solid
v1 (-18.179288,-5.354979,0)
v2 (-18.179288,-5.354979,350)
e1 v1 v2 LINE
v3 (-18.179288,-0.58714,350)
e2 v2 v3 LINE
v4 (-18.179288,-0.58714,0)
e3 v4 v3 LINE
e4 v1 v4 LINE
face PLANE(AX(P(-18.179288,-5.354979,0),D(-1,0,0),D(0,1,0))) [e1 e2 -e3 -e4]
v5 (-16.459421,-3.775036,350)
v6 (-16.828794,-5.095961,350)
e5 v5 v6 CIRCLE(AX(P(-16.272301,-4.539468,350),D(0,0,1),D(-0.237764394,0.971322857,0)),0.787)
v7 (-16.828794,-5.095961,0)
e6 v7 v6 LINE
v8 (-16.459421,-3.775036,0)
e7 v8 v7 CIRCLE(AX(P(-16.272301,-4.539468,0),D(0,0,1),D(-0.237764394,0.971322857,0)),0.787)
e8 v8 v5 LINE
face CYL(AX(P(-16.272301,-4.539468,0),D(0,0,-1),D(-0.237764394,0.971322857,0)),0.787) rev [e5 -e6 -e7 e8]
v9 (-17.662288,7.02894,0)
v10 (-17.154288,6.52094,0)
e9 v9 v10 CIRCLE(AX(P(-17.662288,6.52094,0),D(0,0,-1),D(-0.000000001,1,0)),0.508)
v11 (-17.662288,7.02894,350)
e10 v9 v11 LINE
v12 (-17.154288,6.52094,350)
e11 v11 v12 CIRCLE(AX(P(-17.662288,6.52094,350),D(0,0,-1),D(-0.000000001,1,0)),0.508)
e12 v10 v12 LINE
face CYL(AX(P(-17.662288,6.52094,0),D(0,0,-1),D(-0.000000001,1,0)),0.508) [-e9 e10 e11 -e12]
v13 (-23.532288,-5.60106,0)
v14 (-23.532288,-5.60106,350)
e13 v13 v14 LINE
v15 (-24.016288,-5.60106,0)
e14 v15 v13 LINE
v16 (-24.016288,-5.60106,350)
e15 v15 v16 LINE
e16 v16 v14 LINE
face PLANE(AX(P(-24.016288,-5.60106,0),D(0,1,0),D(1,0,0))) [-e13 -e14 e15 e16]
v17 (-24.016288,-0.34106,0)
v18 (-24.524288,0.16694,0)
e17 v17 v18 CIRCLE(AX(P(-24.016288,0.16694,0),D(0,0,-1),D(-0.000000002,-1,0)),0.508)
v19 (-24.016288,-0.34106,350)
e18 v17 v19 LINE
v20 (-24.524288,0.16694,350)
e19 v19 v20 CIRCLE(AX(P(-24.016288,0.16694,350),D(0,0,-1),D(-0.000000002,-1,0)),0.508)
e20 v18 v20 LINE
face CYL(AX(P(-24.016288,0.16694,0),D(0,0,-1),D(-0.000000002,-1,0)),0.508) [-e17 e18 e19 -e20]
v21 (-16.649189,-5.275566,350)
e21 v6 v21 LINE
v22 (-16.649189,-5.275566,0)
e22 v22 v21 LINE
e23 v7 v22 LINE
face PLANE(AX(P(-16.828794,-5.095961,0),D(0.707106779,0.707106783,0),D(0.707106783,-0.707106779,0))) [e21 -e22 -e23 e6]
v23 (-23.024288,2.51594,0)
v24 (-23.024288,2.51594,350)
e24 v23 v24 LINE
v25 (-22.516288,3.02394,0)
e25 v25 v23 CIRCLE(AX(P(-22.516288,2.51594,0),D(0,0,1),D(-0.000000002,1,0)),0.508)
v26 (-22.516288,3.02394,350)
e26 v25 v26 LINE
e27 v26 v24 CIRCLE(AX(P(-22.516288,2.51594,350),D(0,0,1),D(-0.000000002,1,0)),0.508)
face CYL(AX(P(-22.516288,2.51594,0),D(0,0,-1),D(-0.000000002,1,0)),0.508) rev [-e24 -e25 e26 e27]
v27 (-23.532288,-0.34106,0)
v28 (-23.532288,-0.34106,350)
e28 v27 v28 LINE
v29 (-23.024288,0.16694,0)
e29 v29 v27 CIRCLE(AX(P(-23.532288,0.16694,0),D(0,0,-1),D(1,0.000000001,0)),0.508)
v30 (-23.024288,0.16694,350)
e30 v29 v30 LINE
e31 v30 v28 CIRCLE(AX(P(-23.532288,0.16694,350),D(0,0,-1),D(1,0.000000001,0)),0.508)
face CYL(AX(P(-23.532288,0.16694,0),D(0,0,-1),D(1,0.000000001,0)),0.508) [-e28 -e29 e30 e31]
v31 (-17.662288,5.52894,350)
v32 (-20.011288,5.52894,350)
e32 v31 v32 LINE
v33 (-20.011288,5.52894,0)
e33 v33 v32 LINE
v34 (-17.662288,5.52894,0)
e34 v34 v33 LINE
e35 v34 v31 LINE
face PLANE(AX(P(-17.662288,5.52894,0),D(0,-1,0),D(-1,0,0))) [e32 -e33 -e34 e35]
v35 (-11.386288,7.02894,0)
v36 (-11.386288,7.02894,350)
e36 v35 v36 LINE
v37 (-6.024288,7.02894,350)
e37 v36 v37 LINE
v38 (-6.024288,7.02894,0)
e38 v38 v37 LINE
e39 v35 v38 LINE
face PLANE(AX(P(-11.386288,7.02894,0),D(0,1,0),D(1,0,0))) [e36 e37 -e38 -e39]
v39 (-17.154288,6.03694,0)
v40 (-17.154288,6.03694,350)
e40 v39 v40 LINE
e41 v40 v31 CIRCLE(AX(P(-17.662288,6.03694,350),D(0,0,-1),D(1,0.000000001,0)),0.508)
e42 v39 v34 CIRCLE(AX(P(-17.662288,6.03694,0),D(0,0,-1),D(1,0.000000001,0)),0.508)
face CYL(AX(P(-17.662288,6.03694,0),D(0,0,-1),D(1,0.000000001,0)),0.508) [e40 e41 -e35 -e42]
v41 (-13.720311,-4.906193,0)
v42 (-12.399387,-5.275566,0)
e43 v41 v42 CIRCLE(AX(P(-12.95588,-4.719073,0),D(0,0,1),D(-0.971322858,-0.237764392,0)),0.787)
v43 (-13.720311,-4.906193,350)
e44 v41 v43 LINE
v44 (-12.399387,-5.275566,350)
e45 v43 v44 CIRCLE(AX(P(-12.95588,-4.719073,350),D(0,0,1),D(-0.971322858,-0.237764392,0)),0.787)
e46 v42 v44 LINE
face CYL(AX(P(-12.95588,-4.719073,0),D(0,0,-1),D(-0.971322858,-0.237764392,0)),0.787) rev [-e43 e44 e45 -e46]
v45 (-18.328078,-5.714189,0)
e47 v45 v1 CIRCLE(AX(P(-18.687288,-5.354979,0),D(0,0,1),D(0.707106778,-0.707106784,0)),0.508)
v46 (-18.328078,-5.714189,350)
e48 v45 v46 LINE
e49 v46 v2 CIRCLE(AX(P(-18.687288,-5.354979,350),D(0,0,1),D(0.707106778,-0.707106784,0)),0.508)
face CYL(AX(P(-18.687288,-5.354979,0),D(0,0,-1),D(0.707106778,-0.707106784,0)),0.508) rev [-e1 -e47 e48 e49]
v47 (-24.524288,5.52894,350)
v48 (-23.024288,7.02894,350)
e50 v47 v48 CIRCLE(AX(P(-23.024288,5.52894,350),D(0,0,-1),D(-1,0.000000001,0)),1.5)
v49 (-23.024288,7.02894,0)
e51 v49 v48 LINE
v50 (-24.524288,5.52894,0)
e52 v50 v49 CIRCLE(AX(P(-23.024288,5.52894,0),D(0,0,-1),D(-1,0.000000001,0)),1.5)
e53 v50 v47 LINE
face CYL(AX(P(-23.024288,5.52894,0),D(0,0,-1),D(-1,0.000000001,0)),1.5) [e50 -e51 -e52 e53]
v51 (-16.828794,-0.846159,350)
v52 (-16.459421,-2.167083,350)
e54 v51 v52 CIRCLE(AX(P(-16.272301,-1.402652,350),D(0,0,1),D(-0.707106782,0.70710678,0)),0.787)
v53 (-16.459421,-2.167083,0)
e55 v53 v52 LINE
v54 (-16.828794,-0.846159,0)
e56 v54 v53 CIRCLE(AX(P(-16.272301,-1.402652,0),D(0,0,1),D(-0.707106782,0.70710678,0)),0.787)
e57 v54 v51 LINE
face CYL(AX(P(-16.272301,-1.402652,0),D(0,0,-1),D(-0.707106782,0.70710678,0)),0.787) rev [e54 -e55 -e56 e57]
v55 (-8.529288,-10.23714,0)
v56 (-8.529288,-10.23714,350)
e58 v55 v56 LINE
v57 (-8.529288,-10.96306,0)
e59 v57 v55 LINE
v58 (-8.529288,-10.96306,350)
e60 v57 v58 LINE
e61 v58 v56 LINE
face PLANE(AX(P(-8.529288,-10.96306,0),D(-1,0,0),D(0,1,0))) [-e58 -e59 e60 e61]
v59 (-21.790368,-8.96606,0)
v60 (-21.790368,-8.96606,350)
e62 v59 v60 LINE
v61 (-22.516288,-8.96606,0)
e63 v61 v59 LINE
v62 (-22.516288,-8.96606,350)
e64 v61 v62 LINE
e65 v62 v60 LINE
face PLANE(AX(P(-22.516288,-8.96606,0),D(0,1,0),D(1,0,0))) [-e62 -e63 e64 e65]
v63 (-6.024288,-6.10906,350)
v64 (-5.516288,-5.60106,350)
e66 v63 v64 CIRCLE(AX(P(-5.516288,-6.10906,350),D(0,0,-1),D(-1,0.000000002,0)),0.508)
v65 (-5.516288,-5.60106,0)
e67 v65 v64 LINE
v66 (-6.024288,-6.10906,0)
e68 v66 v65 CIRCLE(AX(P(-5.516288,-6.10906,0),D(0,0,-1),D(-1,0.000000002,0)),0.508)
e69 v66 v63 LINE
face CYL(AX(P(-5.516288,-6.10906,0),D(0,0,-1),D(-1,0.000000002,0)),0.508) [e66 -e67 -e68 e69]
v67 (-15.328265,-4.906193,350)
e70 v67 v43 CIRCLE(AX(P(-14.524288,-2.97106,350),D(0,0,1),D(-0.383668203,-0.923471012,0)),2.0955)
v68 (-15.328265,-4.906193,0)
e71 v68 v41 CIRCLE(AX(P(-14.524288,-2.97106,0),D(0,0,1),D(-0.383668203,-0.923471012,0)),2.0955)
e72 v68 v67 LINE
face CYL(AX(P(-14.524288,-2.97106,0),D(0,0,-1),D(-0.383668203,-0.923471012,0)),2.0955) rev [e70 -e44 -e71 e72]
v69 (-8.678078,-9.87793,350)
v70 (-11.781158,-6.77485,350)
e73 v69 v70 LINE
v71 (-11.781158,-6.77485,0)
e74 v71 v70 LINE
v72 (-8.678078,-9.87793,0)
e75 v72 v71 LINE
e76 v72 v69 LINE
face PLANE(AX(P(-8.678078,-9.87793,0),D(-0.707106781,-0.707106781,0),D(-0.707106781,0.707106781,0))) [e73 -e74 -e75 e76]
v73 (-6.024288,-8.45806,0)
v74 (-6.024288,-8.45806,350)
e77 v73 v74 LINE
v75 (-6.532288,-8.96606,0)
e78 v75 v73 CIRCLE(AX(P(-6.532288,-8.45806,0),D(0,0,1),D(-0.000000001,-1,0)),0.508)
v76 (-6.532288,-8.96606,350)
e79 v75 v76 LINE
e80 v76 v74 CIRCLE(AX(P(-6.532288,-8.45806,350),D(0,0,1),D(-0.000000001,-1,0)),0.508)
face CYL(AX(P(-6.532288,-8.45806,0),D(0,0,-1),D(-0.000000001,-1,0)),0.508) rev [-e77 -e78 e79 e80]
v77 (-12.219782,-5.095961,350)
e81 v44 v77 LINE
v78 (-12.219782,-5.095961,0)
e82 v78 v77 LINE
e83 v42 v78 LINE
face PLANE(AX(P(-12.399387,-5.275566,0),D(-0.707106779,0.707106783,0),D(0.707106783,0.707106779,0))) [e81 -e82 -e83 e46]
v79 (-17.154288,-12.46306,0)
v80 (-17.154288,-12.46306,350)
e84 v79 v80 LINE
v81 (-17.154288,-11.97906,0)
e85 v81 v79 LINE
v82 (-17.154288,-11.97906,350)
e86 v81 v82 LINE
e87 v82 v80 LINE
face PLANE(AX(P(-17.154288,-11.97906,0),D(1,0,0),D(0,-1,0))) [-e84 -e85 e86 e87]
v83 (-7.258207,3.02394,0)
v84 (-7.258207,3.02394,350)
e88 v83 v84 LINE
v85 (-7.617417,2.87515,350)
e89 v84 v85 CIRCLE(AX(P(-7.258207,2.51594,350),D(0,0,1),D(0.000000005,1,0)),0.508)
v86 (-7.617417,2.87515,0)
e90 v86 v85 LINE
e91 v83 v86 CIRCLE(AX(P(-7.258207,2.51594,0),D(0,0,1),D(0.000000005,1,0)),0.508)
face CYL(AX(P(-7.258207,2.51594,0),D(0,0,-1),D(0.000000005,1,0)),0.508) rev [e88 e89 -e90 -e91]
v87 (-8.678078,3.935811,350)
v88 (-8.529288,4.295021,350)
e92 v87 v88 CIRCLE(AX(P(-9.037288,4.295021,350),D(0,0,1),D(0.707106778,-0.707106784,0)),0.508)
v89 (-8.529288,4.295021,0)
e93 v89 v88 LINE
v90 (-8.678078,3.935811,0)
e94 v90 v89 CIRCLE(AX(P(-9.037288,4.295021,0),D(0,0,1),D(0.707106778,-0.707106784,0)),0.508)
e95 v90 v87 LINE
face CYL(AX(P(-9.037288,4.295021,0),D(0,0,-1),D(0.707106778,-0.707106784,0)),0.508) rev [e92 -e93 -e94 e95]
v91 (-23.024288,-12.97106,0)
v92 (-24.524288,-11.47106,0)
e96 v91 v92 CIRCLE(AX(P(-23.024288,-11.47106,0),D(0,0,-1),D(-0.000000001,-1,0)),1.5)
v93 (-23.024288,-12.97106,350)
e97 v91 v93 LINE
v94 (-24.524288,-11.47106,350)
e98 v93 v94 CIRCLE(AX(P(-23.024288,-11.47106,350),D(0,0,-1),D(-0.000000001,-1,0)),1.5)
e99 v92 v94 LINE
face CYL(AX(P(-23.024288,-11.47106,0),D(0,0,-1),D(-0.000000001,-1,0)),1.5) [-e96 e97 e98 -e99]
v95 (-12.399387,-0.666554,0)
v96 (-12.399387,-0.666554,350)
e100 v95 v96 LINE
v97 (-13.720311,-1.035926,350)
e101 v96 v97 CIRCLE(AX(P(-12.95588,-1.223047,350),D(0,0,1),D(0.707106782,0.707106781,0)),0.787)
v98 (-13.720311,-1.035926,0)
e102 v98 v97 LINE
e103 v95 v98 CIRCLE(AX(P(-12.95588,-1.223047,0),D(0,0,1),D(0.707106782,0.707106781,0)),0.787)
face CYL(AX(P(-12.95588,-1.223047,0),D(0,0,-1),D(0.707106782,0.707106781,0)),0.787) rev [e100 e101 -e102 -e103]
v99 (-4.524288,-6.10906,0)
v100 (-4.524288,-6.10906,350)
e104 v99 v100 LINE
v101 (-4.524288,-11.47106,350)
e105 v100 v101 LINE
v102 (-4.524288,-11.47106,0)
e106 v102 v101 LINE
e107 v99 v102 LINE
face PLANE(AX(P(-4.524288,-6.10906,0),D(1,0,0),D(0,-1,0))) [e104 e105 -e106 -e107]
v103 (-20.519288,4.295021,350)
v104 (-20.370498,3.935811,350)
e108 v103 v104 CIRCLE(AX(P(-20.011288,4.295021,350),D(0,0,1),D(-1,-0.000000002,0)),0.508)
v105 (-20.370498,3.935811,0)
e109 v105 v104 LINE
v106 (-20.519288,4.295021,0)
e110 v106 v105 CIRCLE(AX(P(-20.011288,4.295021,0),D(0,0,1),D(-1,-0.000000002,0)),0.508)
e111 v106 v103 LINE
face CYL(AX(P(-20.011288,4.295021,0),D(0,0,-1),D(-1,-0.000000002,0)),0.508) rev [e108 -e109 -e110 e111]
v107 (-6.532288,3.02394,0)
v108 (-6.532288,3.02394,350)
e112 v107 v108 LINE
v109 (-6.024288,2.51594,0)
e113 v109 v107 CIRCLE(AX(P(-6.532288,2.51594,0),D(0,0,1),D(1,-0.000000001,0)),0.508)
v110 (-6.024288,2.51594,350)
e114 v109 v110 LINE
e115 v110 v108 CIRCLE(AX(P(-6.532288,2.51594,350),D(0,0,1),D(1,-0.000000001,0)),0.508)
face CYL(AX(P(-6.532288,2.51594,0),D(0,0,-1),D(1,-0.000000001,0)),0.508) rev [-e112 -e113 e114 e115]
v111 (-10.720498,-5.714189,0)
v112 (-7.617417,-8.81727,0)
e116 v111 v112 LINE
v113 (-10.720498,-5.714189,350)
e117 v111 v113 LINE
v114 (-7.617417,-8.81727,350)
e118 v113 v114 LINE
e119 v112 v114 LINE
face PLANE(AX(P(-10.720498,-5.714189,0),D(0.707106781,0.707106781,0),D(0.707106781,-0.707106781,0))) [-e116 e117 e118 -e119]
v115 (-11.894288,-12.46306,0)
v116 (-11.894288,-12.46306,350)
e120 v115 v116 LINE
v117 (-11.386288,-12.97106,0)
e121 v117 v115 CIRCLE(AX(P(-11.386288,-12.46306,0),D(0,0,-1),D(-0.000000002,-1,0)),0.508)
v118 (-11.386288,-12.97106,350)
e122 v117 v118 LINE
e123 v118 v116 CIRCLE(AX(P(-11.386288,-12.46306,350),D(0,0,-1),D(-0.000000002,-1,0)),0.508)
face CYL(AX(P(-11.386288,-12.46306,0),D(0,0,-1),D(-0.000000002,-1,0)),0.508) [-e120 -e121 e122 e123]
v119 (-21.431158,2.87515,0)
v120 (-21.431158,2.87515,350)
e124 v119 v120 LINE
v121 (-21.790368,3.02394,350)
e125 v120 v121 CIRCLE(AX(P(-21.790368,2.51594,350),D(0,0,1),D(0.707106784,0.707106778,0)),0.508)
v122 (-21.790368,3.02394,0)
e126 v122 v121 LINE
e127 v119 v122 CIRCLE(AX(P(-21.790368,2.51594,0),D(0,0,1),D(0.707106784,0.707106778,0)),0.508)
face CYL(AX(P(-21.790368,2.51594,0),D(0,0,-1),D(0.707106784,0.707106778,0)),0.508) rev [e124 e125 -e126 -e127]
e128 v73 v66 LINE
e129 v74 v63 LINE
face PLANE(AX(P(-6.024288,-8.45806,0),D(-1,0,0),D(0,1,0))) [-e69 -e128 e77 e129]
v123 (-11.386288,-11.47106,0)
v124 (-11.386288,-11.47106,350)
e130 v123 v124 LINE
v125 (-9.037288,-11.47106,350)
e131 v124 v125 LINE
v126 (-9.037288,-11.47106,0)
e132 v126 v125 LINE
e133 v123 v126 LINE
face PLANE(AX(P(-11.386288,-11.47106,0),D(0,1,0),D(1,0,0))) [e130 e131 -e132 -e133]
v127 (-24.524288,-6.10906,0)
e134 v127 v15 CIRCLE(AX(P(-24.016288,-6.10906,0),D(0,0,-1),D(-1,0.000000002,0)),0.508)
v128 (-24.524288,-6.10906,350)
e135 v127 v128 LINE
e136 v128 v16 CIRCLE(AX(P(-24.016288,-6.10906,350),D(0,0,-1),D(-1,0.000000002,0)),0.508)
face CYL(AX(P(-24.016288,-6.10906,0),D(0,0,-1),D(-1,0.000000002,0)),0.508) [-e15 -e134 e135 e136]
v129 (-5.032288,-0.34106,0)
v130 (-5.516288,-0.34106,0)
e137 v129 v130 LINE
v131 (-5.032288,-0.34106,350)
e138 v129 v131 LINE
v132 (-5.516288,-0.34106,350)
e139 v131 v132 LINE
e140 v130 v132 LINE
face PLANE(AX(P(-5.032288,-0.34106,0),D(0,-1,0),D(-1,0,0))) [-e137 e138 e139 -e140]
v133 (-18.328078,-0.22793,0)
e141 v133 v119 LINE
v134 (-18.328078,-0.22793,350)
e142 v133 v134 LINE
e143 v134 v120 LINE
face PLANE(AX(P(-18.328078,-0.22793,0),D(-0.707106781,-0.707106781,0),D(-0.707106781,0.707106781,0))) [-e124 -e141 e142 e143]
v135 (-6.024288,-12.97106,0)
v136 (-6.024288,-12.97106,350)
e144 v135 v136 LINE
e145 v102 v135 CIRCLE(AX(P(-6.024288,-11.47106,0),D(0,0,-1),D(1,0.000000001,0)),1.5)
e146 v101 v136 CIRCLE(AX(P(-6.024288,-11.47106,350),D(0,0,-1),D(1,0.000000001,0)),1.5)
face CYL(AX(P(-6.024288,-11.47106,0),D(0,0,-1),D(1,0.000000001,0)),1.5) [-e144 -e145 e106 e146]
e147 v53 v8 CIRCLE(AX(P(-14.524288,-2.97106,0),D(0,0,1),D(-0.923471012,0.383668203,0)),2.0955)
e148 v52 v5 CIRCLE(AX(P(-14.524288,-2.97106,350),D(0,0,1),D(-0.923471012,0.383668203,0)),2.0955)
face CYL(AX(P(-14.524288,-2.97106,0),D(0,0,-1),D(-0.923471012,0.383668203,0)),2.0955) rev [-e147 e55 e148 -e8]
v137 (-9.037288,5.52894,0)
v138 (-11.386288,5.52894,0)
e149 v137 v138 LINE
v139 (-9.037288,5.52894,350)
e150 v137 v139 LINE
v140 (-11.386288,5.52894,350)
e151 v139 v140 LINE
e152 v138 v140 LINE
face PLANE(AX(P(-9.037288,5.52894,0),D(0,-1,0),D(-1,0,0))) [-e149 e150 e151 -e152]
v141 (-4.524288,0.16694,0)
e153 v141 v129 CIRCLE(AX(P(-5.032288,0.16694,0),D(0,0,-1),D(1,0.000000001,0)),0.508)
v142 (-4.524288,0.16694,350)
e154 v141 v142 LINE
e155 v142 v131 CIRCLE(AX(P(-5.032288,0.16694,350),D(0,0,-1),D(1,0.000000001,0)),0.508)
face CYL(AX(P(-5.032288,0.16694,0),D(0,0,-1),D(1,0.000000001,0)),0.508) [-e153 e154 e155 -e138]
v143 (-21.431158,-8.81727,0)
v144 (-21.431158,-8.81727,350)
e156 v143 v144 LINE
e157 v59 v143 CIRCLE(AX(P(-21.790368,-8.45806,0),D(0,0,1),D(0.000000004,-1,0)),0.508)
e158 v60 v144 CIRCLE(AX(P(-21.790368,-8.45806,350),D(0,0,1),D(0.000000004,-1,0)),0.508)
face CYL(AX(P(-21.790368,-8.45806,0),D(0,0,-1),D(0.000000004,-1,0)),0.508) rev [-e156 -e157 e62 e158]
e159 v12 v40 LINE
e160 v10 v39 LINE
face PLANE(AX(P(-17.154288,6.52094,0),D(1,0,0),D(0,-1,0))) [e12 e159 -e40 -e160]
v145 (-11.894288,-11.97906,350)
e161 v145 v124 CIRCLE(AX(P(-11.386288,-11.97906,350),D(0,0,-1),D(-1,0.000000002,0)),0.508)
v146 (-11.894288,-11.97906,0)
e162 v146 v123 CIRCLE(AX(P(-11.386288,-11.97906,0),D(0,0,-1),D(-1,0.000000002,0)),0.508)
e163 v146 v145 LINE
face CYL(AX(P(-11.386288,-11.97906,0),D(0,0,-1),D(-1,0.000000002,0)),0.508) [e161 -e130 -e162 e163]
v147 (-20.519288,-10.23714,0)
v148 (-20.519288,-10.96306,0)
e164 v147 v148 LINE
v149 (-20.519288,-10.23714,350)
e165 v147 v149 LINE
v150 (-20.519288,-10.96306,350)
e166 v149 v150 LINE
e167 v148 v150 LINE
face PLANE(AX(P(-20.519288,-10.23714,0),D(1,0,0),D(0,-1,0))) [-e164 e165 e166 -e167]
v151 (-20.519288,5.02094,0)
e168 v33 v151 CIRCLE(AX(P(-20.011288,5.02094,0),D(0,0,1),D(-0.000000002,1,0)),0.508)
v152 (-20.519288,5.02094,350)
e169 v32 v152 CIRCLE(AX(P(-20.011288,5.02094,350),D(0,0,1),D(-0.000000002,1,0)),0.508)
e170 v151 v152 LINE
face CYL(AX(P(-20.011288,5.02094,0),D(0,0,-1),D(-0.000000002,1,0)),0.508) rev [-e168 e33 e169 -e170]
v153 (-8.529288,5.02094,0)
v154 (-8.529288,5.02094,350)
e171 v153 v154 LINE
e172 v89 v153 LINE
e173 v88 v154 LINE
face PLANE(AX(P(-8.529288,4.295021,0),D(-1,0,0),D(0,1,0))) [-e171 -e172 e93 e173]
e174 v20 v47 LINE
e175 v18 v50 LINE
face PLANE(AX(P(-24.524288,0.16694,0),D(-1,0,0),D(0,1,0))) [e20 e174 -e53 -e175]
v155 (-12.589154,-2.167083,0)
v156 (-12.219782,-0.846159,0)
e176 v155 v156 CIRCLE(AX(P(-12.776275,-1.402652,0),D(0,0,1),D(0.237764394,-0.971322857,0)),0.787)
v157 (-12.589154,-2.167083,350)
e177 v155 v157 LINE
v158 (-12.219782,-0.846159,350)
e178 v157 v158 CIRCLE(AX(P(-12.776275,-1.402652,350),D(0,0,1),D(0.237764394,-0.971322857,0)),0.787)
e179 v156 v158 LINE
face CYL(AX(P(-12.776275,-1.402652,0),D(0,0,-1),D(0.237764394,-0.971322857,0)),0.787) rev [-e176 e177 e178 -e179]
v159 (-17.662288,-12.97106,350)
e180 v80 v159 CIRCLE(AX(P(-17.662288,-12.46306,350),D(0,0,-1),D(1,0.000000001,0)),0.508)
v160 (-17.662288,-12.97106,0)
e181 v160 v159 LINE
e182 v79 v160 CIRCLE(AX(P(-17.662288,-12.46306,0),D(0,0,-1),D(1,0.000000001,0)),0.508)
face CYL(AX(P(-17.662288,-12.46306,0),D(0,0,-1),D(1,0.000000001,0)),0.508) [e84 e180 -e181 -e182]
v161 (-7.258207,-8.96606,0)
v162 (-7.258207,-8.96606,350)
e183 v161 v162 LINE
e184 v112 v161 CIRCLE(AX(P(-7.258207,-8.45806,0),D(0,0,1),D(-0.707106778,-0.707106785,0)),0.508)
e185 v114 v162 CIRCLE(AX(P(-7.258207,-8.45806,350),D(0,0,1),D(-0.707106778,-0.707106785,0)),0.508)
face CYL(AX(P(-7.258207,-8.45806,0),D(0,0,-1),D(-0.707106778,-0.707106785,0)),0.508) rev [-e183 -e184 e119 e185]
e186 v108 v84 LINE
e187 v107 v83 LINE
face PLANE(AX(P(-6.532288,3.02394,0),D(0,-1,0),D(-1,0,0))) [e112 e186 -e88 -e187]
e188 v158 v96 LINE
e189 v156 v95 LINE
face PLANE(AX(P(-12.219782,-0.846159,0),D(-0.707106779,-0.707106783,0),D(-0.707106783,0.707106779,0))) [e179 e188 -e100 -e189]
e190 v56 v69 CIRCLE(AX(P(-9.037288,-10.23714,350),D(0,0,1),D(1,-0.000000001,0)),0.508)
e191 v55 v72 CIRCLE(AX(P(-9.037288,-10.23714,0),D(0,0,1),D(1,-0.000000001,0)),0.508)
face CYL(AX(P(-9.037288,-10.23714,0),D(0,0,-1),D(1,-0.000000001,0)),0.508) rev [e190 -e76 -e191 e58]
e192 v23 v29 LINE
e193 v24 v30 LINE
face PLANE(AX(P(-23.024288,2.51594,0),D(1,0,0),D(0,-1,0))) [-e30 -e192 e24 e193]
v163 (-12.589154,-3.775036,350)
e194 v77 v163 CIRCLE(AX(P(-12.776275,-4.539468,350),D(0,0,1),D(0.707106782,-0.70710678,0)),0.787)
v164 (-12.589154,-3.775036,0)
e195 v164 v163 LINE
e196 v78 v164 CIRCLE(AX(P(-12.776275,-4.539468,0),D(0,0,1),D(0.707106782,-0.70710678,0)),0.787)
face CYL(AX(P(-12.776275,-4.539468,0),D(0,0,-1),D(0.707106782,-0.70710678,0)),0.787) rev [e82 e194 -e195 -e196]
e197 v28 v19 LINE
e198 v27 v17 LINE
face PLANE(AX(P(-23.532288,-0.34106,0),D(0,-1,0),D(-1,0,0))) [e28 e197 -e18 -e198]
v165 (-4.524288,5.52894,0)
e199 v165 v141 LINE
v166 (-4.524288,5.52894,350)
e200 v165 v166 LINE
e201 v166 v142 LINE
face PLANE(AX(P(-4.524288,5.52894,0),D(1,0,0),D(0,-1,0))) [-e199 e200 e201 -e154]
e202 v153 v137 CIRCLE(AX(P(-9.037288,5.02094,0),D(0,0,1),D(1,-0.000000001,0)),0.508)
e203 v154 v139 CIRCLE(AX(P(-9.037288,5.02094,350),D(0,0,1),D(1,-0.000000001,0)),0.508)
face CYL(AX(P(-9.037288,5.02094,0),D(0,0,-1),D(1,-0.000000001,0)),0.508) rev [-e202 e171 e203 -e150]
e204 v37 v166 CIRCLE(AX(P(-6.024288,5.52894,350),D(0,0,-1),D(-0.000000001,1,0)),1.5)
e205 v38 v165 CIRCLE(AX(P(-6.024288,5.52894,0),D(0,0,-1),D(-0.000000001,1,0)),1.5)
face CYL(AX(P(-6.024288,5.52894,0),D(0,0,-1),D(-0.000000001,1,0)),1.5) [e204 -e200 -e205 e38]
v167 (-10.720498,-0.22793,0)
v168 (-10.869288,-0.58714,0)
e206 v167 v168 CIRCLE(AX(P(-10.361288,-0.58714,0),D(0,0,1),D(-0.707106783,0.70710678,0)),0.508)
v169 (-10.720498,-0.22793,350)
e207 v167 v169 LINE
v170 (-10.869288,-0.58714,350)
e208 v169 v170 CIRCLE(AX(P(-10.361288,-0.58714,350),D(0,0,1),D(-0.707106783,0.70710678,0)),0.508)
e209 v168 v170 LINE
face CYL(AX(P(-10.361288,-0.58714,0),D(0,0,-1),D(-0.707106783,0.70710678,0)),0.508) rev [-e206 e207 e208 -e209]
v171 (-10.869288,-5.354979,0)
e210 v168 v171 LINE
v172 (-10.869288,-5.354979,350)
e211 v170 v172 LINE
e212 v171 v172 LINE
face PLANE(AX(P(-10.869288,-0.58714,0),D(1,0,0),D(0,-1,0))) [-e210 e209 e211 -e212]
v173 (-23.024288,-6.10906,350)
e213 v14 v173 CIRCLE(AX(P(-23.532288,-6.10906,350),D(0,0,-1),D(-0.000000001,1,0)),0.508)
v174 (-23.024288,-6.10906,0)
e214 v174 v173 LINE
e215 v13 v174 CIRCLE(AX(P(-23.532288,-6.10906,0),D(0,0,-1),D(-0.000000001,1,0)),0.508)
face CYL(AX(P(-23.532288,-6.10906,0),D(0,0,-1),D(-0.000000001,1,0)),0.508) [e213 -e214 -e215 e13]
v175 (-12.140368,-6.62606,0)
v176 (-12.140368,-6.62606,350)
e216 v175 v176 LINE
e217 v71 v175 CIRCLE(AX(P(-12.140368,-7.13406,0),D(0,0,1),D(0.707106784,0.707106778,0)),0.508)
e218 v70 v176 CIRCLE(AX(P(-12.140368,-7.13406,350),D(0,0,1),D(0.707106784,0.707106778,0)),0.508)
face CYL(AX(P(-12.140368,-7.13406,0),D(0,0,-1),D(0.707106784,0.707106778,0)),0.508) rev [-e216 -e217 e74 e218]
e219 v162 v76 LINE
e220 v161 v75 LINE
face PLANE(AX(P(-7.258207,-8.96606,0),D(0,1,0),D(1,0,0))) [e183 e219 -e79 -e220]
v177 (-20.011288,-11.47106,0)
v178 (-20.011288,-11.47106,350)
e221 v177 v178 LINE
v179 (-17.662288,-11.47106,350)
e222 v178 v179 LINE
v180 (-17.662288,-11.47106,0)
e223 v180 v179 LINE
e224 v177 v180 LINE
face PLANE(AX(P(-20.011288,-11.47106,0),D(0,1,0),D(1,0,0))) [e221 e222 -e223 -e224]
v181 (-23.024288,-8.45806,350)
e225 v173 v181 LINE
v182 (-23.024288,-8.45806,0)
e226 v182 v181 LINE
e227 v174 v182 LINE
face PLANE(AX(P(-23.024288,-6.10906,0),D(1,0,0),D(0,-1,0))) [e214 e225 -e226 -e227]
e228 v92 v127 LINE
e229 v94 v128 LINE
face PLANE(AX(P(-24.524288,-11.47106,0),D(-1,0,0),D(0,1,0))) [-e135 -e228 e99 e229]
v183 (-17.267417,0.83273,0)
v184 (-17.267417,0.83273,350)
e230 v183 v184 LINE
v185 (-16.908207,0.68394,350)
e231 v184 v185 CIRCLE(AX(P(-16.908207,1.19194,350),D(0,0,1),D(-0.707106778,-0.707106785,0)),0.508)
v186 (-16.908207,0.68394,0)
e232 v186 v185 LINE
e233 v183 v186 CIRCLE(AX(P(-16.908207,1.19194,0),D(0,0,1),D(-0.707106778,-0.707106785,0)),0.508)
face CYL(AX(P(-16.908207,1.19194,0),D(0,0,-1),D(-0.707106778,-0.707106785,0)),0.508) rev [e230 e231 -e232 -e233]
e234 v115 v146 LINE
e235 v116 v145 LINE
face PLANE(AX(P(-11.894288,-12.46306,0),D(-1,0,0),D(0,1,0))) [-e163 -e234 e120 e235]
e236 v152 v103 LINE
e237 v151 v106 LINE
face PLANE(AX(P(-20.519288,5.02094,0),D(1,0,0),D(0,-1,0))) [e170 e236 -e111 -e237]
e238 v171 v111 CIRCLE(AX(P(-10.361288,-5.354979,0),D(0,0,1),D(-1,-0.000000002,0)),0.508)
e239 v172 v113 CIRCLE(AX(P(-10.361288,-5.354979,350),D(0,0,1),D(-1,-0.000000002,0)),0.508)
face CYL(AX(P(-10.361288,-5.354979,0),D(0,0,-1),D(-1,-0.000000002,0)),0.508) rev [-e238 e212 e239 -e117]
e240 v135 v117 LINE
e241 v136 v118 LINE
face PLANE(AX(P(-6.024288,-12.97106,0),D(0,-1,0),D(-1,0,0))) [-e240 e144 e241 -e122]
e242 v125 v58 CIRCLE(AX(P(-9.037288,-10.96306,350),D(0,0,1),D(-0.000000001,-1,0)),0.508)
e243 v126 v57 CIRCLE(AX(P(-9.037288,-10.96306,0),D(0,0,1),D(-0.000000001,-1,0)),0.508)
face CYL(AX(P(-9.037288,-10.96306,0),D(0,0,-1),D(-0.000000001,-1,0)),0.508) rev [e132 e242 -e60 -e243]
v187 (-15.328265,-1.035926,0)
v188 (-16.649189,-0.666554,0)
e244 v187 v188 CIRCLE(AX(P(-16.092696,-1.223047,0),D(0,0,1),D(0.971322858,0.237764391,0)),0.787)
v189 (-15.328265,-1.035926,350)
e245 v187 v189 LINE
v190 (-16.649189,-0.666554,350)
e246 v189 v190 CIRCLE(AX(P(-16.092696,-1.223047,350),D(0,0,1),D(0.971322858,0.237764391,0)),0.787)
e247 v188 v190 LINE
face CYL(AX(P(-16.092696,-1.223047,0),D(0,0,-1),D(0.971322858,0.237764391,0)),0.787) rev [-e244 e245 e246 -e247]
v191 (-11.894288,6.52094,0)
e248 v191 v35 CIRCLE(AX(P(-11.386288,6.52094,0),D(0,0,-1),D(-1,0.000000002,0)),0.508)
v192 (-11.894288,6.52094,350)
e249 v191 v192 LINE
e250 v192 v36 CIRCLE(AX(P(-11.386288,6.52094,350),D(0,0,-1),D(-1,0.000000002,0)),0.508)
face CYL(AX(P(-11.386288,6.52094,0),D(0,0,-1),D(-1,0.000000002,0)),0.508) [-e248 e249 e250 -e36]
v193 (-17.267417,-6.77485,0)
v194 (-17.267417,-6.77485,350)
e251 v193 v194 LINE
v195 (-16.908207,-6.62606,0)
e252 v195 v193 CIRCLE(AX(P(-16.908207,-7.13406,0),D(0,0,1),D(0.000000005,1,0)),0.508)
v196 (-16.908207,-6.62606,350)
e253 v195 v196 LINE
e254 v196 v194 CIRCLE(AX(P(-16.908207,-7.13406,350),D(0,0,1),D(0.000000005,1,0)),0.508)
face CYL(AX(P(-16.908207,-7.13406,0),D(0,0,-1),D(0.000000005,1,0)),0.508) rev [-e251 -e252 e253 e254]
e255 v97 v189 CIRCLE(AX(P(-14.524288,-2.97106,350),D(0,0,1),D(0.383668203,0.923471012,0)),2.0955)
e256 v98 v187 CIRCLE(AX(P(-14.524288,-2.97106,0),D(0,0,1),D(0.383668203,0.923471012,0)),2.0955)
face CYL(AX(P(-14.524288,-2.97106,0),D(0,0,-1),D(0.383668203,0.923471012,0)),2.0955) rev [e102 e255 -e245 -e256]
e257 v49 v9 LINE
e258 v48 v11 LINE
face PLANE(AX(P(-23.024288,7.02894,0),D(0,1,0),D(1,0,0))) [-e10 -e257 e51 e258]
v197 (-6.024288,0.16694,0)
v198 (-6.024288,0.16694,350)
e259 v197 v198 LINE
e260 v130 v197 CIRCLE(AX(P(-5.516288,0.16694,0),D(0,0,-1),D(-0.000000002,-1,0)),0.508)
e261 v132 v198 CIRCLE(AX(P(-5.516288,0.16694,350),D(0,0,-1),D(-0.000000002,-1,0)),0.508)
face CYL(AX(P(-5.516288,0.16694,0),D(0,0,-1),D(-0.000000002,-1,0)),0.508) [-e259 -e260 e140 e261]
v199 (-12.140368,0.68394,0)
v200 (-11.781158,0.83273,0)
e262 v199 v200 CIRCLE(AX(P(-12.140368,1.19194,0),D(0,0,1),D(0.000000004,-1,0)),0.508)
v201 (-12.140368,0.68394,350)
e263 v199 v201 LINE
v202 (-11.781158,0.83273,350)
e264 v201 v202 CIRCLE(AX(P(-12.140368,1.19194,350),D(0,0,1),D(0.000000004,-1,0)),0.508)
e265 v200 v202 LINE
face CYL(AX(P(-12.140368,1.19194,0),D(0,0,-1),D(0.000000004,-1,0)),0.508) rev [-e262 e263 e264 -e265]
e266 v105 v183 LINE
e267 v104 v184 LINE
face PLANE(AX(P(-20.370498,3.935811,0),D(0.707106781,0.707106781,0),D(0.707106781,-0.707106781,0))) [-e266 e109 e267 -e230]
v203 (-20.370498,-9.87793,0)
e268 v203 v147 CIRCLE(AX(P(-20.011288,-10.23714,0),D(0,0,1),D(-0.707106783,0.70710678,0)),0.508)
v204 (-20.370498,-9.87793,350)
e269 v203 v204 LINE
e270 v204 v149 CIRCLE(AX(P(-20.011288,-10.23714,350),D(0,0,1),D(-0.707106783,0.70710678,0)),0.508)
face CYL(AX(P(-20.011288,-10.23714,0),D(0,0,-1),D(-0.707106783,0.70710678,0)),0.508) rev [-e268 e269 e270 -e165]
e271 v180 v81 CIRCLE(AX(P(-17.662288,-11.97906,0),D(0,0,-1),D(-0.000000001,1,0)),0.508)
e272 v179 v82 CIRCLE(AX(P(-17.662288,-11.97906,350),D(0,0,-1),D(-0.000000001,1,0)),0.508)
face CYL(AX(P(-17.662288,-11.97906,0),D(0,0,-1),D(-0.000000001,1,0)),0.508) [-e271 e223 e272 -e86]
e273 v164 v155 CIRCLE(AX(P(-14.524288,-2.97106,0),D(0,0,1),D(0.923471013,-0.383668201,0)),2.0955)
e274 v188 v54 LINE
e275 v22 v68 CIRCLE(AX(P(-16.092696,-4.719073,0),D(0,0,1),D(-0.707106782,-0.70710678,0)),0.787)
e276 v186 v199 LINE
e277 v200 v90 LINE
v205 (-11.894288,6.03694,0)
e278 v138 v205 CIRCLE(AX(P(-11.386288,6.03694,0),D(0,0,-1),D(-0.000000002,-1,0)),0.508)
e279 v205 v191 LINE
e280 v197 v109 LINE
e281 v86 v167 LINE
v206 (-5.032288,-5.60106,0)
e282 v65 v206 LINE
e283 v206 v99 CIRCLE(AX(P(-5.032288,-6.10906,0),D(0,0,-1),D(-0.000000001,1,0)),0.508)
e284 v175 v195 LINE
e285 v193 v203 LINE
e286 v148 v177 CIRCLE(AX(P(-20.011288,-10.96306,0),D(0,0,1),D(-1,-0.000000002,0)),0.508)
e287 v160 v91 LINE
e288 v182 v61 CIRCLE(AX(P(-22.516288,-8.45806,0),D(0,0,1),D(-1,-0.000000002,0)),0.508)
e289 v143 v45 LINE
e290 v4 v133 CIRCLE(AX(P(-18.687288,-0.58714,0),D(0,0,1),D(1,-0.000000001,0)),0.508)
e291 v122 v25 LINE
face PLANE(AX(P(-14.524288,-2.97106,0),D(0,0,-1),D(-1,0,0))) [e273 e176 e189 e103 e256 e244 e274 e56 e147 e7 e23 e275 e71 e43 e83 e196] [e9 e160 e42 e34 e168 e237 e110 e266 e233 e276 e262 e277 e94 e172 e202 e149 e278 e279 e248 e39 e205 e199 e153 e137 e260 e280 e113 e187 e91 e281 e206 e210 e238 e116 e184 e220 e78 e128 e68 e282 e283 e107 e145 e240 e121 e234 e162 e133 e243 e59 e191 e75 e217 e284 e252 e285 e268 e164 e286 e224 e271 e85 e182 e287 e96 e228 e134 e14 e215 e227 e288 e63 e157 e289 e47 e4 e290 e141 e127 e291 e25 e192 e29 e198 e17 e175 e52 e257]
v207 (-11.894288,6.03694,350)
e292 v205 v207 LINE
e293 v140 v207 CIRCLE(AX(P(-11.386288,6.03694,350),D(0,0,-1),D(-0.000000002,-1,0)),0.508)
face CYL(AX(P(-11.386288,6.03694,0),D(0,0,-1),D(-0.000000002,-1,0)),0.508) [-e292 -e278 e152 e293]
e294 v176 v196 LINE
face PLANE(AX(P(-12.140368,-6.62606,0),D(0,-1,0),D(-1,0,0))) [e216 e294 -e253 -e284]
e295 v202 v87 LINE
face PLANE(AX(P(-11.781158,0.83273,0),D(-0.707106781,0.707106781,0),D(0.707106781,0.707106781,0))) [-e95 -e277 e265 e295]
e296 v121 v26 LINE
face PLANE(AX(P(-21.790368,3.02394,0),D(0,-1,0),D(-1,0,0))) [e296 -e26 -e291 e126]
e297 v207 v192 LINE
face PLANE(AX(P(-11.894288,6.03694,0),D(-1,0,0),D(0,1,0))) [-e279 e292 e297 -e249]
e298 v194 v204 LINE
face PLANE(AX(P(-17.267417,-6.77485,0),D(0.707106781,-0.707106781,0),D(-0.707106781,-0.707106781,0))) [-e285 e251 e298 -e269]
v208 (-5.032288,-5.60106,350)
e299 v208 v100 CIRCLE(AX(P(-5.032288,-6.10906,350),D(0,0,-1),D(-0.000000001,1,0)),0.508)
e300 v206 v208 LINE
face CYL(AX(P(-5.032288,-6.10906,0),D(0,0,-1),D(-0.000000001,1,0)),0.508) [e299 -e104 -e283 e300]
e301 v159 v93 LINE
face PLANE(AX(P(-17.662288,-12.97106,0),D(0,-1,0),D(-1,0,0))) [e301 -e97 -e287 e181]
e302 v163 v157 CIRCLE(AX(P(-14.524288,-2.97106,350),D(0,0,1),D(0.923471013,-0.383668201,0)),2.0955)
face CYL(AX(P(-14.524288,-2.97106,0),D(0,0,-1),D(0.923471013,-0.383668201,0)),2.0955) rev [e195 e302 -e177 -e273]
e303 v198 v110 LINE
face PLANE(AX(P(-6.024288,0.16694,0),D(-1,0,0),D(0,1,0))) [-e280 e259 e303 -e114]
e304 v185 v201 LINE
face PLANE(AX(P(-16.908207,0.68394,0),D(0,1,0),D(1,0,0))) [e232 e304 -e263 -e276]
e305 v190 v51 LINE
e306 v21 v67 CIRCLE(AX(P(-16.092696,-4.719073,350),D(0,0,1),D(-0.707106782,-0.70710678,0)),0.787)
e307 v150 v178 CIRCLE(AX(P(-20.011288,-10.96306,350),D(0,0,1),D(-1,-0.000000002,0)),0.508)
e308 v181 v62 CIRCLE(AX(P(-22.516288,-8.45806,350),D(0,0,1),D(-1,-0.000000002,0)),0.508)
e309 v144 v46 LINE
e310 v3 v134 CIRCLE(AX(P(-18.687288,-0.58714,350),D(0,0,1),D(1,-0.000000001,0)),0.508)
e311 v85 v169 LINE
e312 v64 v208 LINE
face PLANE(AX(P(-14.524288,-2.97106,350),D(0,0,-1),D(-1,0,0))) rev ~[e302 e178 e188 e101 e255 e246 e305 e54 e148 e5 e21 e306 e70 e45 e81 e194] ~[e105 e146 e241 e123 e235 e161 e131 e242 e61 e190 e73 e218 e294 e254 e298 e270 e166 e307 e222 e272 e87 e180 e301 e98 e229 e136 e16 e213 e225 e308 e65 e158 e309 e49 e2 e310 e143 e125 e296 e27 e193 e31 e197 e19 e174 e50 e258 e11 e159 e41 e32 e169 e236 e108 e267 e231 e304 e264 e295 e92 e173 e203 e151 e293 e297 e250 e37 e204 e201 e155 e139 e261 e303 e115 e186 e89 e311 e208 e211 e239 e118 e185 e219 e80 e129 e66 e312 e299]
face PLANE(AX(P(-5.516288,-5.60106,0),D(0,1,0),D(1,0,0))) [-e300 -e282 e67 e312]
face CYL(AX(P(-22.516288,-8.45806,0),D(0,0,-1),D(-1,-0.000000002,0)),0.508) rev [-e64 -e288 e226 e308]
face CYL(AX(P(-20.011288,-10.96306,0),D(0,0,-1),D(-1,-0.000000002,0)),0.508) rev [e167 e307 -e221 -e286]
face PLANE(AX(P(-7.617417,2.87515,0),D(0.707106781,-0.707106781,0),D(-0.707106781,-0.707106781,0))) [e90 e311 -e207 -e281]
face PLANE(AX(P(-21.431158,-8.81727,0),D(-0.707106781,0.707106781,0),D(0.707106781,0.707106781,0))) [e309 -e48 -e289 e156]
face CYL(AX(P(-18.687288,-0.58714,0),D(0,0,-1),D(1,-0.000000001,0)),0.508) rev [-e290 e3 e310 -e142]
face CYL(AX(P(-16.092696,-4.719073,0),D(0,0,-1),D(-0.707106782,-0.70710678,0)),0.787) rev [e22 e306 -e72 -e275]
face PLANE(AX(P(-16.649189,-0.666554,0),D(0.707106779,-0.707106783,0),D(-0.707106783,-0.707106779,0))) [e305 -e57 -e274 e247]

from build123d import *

# Parameters (mm, degrees)
EXTRUDE1_DEPTH = 350


with BuildPart() as part:
    # Sketch1 → Extrude1 (new body)
    with BuildSketch(Plane.XY):
        with BuildLine():
            Line((-5.032287798, -0.341059771), (-5.516287798, -0.341059771))
            ThreePointArc((-5.516287798, -0.341059771), (-5.875498042, -0.192270016), (-6.024287798, 0.166940229))
            Line((-6.024287798, 0.166940229), (-6.024287798, 2.515940229))
            ThreePointArc((-6.024287798, 2.515940229), (-6.173077553, 2.875150474), (-6.532287798, 3.023940229))
            Line((-6.532287798, 3.023940229), (-7.258207136, 3.023940229))
            ThreePointArc((-7.258207136, 3.023940229), (-7.45261032, 2.985271032), (-7.617417381, 2.875150474))
            Line((-7.617417381, 2.875150474), (-10.720498042, -0.227930187))
            ThreePointArc((-10.720498042, -0.227930187), (-10.8306186, -0.392737249), (-10.869287798, -0.587140432))
            Line((-10.869287798, -0.587140432), (-10.869287798, -5.354979109))
            ThreePointArc((-10.869287798, -5.354979109), (-10.8306186, -5.549382293), (-10.720498042, -5.714189354))
            Line((-10.720498042, -5.714189354), (-7.617417381, -8.817270016))
            ThreePointArc((-7.617417381, -8.817270016), (-7.45261032, -8.927390573), (-7.258207136, -8.966059771))
            Line((-7.258207136, -8.966059771), (-6.532287798, -8.966059771))
            ThreePointArc((-6.532287798, -8.966059771), (-6.173077553, -8.817270016), (-6.024287798, -8.458059771))
            Line((-6.024287798, -8.458059771), (-6.024287798, -6.109059771))
            ThreePointArc((-6.024287798, -6.109059771), (-5.875498042, -5.749849526), (-5.516287798, -5.601059771))
            Line((-5.516287798, -5.601059771), (-5.032287798, -5.601059771))
            ThreePointArc((-5.032287798, -5.601059771), (-4.673077553, -5.749849526), (-4.524287798, -6.109059771))
            Line((-4.524287798, -6.109059771), (-4.524287798, -11.471059771))
            ThreePointArc((-4.524287798, -11.471059771), (-4.963627626, -12.531719943), (-6.024287798, -12.971059771))
            Line((-6.024287798, -12.971059771), (-11.386287798, -12.971059771))
            ThreePointArc((-11.386287798, -12.971059771), (-11.745498042, -12.822270016), (-11.894287798, -12.463059771))
            Line((-11.894287798, -12.463059771), (-11.894287798, -11.979059771))
            ThreePointArc((-11.894287798, -11.979059771), (-11.745498042, -11.619849526), (-11.386287798, -11.471059771))
            Line((-11.386287798, -11.471059771), (-9.037287798, -11.471059771))
            ThreePointArc((-9.037287798, -11.471059771), (-8.678077553, -11.322270016), (-8.529287798, -10.963059771))
            Line((-8.529287798, -10.963059771), (-8.529287798, -10.237140432))
            ThreePointArc((-8.529287798, -10.237140432), (-8.567956995, -10.042737249), (-8.678077553, -9.877930187))
            Line((-8.678077553, -9.877930187), (-11.781158214, -6.774849526))
            ThreePointArc((-11.781158214, -6.774849526), (-11.945965275, -6.664728968), (-12.140368459, -6.626059771))
            Line((-12.140368459, -6.626059771), (-16.908207136, -6.626059771))
            ThreePointArc((-16.908207136, -6.626059771), (-17.10261032, -6.664728968), (-17.267417381, -6.774849526))
            Line((-17.267417381, -6.774849526), (-20.370498042, -9.877930187))
            ThreePointArc((-20.370498042, -9.877930187), (-20.4806186, -10.042737249), (-20.519287798, -10.237140432))
            Line((-20.519287798, -10.237140432), (-20.519287798, -10.963059771))
            ThreePointArc((-20.519287798, -10.963059771), (-20.370498042, -11.322270016), (-20.011287798, -11.471059771))
            Line((-20.011287798, -11.471059771), (-17.662287798, -11.471059771))
            ThreePointArc((-17.662287798, -11.471059771), (-17.303077553, -11.619849526), (-17.154287798, -11.979059771))
            Line((-17.154287798, -11.979059771), (-17.154287798, -12.463059771))
            ThreePointArc((-17.154287798, -12.463059771), (-17.303077553, -12.822270016), (-17.662287798, -12.971059771))
            Line((-17.662287798, -12.971059771), (-23.024287798, -12.971059771))
            ThreePointArc((-23.024287798, -12.971059771), (-24.084947969, -12.531719943), (-24.524287798, -11.471059771))
            Line((-24.524287798, -11.471059771), (-24.524287798, -6.109059771))
            ThreePointArc((-24.524287798, -6.109059771), (-24.375498042, -5.749849526), (-24.016287798, -5.601059771))
            Line((-24.016287798, -5.601059771), (-23.532287798, -5.601059771))
            ThreePointArc((-23.532287798, -5.601059771), (-23.173077553, -5.749849526), (-23.024287798, -6.109059771))
            Line((-23.024287798, -6.109059771), (-23.024287798, -8.458059771))
            ThreePointArc((-23.024287798, -8.458059771), (-22.875498042, -8.817270016), (-22.516287798, -8.966059771))
            Line((-22.516287798, -8.966059771), (-21.790368459, -8.966059771))
            ThreePointArc((-21.790368459, -8.966059771), (-21.595965275, -8.927390573), (-21.431158214, -8.817270016))
            Line((-21.431158214, -8.817270016), (-18.328077553, -5.714189354))
            ThreePointArc((-18.328077553, -5.714189354), (-18.217956995, -5.549382293), (-18.179287798, -5.354979109))
            Line((-18.179287798, -5.354979109), (-18.179287798, -0.587140432))
            ThreePointArc((-18.179287798, -0.587140432), (-18.217956995, -0.392737249), (-18.328077553, -0.227930187))
            Line((-18.328077553, -0.227930187), (-21.431158214, 2.875150474))
            ThreePointArc((-21.431158214, 2.875150474), (-21.595965275, 2.985271032), (-21.790368459, 3.023940229))
            Line((-21.790368459, 3.023940229), (-22.516287798, 3.023940229))
            ThreePointArc((-22.516287798, 3.023940229), (-22.875498042, 2.875150474), (-23.024287798, 2.515940229))
            Line((-23.024287798, 2.515940229), (-23.024287798, 0.166940229))
            ThreePointArc((-23.024287798, 0.166940229), (-23.173077553, -0.192270016), (-23.532287798, -0.341059771))
            Line((-23.532287798, -0.341059771), (-24.016287798, -0.341059771))
            ThreePointArc((-24.016287798, -0.341059771), (-24.375498042, -0.192270016), (-24.524287798, 0.166940229))
            Line((-24.524287798, 0.166940229), (-24.524287798, 5.528940229))
            ThreePointArc((-24.524287798, 5.528940229), (-24.084947969, 6.589600401), (-23.024287798, 7.028940229))
            Line((-23.024287798, 7.028940229), (-17.662287798, 7.028940229))
            ThreePointArc((-17.662287798, 7.028940229), (-17.303077553, 6.880150474), (-17.154287798, 6.520940229))
            Line((-17.154287798, 6.520940229), (-17.154287798, 6.036940229))
            ThreePointArc((-17.154287798, 6.036940229), (-17.303077553, 5.677729984), (-17.662287798, 5.528940229))
            Line((-17.662287798, 5.528940229), (-20.011287798, 5.528940229))
            ThreePointArc((-20.011287798, 5.528940229), (-20.370498042, 5.380150474), (-20.519287798, 5.020940229))
            Line((-20.519287798, 5.020940229), (-20.519287798, 4.295020891))
            ThreePointArc((-20.519287798, 4.295020891), (-20.4806186, 4.100617707), (-20.370498042, 3.935810646))
            Line((-20.370498042, 3.935810646), (-17.267417381, 0.832729984))
            ThreePointArc((-17.267417381, 0.832729984), (-17.10261032, 0.722609427), (-16.908207136, 0.683940229))
            Line((-16.908207136, 0.683940229), (-12.140368459, 0.683940229))
            ThreePointArc((-12.140368459, 0.683940229), (-11.945965275, 0.722609427), (-11.781158214, 0.832729984))
            Line((-11.781158214, 0.832729984), (-8.678077553, 3.935810646))
            ThreePointArc((-8.678077553, 3.935810646), (-8.567956995, 4.100617707), (-8.529287798, 4.295020891))
            Line((-8.529287798, 4.295020891), (-8.529287798, 5.020940229))
            ThreePointArc((-8.529287798, 5.020940229), (-8.678077553, 5.380150474), (-9.037287798, 5.528940229))
            Line((-9.037287798, 5.528940229), (-11.386287798, 5.528940229))
            ThreePointArc((-11.386287798, 5.528940229), (-11.745498042, 5.677729984), (-11.894287798, 6.036940229))
            Line((-11.894287798, 6.036940229), (-11.894287798, 6.520940229))
            ThreePointArc((-11.894287798, 6.520940229), (-11.745498042, 6.880150474), (-11.386287798, 7.028940229))
            Line((-11.386287798, 7.028940229), (-6.024287798, 7.028940229))
            ThreePointArc((-6.024287798, 7.028940229), (-4.963627626, 6.589600401), (-4.524287798, 5.528940229))
            Line((-4.524287798, 5.528940229), (-4.524287798, 0.166940229))
            ThreePointArc((-4.524287798, 0.166940229), (-4.673077553, -0.192270016), (-5.032287798, -0.341059771))
        make_face()
        with BuildLine():
            Line((-12.399386954, -5.275565737), (-12.219781831, -5.095960615))
            ThreePointArc((-12.219781831, -5.095960615), (-12.018349781, -4.327527582), (-12.589154291, -3.775036489))
            ThreePointArc((-12.589154291, -3.775036489), (-12.428787798, -2.971059771), (-12.589154291, -2.167083053))
            ThreePointArc((-12.589154291, -2.167083053), (-12.018349781, -1.61459196), (-12.219781831, -0.846158927))
            Line((-12.219781831, -0.846158927), (-12.399386954, -0.666553805))
            ThreePointArc((-12.399386954, -0.666553805), (-13.167819987, -0.465121754), (-13.72031108, -1.035926265))
            ThreePointArc((-13.72031108, -1.035926265), (-14.524287798, -0.875559771), (-15.328264516, -1.035926265))
            ThreePointArc((-15.328264516, -1.035926265), (-15.880755608, -0.465121754), (-16.649188641, -0.666553805))
            Line((-16.649188641, -0.666553805), (-16.828793764, -0.846158927))
            ThreePointArc((-16.828793764, -0.846158927), (-17.030225814, -1.61459196), (-16.459421304, -2.167083053))
            ThreePointArc((-16.459421304, -2.167083053), (-16.619787798, -2.971059771), (-16.459421304, -3.775036489))
            ThreePointArc((-16.459421304, -3.775036489), (-17.030225814, -4.327527582), (-16.828793764, -5.095960615))
            Line((-16.828793764, -5.095960615), (-16.649188641, -5.275565737))
            ThreePointArc((-16.649188641, -5.275565737), (-15.880755608, -5.476997788), (-15.328264516, -4.906193277))
            ThreePointArc((-15.328264516, -4.906193277), (-14.524287798, -5.066559771), (-13.72031108, -4.906193277))
            ThreePointArc((-13.72031108, -4.906193277), (-13.167819987, -5.476997788), (-12.399386954, -5.275565737))
        make_face(mode=Mode.SUBTRACT)
    extrude(amount=EXTRUDE1_DEPTH)


solid = part.part
